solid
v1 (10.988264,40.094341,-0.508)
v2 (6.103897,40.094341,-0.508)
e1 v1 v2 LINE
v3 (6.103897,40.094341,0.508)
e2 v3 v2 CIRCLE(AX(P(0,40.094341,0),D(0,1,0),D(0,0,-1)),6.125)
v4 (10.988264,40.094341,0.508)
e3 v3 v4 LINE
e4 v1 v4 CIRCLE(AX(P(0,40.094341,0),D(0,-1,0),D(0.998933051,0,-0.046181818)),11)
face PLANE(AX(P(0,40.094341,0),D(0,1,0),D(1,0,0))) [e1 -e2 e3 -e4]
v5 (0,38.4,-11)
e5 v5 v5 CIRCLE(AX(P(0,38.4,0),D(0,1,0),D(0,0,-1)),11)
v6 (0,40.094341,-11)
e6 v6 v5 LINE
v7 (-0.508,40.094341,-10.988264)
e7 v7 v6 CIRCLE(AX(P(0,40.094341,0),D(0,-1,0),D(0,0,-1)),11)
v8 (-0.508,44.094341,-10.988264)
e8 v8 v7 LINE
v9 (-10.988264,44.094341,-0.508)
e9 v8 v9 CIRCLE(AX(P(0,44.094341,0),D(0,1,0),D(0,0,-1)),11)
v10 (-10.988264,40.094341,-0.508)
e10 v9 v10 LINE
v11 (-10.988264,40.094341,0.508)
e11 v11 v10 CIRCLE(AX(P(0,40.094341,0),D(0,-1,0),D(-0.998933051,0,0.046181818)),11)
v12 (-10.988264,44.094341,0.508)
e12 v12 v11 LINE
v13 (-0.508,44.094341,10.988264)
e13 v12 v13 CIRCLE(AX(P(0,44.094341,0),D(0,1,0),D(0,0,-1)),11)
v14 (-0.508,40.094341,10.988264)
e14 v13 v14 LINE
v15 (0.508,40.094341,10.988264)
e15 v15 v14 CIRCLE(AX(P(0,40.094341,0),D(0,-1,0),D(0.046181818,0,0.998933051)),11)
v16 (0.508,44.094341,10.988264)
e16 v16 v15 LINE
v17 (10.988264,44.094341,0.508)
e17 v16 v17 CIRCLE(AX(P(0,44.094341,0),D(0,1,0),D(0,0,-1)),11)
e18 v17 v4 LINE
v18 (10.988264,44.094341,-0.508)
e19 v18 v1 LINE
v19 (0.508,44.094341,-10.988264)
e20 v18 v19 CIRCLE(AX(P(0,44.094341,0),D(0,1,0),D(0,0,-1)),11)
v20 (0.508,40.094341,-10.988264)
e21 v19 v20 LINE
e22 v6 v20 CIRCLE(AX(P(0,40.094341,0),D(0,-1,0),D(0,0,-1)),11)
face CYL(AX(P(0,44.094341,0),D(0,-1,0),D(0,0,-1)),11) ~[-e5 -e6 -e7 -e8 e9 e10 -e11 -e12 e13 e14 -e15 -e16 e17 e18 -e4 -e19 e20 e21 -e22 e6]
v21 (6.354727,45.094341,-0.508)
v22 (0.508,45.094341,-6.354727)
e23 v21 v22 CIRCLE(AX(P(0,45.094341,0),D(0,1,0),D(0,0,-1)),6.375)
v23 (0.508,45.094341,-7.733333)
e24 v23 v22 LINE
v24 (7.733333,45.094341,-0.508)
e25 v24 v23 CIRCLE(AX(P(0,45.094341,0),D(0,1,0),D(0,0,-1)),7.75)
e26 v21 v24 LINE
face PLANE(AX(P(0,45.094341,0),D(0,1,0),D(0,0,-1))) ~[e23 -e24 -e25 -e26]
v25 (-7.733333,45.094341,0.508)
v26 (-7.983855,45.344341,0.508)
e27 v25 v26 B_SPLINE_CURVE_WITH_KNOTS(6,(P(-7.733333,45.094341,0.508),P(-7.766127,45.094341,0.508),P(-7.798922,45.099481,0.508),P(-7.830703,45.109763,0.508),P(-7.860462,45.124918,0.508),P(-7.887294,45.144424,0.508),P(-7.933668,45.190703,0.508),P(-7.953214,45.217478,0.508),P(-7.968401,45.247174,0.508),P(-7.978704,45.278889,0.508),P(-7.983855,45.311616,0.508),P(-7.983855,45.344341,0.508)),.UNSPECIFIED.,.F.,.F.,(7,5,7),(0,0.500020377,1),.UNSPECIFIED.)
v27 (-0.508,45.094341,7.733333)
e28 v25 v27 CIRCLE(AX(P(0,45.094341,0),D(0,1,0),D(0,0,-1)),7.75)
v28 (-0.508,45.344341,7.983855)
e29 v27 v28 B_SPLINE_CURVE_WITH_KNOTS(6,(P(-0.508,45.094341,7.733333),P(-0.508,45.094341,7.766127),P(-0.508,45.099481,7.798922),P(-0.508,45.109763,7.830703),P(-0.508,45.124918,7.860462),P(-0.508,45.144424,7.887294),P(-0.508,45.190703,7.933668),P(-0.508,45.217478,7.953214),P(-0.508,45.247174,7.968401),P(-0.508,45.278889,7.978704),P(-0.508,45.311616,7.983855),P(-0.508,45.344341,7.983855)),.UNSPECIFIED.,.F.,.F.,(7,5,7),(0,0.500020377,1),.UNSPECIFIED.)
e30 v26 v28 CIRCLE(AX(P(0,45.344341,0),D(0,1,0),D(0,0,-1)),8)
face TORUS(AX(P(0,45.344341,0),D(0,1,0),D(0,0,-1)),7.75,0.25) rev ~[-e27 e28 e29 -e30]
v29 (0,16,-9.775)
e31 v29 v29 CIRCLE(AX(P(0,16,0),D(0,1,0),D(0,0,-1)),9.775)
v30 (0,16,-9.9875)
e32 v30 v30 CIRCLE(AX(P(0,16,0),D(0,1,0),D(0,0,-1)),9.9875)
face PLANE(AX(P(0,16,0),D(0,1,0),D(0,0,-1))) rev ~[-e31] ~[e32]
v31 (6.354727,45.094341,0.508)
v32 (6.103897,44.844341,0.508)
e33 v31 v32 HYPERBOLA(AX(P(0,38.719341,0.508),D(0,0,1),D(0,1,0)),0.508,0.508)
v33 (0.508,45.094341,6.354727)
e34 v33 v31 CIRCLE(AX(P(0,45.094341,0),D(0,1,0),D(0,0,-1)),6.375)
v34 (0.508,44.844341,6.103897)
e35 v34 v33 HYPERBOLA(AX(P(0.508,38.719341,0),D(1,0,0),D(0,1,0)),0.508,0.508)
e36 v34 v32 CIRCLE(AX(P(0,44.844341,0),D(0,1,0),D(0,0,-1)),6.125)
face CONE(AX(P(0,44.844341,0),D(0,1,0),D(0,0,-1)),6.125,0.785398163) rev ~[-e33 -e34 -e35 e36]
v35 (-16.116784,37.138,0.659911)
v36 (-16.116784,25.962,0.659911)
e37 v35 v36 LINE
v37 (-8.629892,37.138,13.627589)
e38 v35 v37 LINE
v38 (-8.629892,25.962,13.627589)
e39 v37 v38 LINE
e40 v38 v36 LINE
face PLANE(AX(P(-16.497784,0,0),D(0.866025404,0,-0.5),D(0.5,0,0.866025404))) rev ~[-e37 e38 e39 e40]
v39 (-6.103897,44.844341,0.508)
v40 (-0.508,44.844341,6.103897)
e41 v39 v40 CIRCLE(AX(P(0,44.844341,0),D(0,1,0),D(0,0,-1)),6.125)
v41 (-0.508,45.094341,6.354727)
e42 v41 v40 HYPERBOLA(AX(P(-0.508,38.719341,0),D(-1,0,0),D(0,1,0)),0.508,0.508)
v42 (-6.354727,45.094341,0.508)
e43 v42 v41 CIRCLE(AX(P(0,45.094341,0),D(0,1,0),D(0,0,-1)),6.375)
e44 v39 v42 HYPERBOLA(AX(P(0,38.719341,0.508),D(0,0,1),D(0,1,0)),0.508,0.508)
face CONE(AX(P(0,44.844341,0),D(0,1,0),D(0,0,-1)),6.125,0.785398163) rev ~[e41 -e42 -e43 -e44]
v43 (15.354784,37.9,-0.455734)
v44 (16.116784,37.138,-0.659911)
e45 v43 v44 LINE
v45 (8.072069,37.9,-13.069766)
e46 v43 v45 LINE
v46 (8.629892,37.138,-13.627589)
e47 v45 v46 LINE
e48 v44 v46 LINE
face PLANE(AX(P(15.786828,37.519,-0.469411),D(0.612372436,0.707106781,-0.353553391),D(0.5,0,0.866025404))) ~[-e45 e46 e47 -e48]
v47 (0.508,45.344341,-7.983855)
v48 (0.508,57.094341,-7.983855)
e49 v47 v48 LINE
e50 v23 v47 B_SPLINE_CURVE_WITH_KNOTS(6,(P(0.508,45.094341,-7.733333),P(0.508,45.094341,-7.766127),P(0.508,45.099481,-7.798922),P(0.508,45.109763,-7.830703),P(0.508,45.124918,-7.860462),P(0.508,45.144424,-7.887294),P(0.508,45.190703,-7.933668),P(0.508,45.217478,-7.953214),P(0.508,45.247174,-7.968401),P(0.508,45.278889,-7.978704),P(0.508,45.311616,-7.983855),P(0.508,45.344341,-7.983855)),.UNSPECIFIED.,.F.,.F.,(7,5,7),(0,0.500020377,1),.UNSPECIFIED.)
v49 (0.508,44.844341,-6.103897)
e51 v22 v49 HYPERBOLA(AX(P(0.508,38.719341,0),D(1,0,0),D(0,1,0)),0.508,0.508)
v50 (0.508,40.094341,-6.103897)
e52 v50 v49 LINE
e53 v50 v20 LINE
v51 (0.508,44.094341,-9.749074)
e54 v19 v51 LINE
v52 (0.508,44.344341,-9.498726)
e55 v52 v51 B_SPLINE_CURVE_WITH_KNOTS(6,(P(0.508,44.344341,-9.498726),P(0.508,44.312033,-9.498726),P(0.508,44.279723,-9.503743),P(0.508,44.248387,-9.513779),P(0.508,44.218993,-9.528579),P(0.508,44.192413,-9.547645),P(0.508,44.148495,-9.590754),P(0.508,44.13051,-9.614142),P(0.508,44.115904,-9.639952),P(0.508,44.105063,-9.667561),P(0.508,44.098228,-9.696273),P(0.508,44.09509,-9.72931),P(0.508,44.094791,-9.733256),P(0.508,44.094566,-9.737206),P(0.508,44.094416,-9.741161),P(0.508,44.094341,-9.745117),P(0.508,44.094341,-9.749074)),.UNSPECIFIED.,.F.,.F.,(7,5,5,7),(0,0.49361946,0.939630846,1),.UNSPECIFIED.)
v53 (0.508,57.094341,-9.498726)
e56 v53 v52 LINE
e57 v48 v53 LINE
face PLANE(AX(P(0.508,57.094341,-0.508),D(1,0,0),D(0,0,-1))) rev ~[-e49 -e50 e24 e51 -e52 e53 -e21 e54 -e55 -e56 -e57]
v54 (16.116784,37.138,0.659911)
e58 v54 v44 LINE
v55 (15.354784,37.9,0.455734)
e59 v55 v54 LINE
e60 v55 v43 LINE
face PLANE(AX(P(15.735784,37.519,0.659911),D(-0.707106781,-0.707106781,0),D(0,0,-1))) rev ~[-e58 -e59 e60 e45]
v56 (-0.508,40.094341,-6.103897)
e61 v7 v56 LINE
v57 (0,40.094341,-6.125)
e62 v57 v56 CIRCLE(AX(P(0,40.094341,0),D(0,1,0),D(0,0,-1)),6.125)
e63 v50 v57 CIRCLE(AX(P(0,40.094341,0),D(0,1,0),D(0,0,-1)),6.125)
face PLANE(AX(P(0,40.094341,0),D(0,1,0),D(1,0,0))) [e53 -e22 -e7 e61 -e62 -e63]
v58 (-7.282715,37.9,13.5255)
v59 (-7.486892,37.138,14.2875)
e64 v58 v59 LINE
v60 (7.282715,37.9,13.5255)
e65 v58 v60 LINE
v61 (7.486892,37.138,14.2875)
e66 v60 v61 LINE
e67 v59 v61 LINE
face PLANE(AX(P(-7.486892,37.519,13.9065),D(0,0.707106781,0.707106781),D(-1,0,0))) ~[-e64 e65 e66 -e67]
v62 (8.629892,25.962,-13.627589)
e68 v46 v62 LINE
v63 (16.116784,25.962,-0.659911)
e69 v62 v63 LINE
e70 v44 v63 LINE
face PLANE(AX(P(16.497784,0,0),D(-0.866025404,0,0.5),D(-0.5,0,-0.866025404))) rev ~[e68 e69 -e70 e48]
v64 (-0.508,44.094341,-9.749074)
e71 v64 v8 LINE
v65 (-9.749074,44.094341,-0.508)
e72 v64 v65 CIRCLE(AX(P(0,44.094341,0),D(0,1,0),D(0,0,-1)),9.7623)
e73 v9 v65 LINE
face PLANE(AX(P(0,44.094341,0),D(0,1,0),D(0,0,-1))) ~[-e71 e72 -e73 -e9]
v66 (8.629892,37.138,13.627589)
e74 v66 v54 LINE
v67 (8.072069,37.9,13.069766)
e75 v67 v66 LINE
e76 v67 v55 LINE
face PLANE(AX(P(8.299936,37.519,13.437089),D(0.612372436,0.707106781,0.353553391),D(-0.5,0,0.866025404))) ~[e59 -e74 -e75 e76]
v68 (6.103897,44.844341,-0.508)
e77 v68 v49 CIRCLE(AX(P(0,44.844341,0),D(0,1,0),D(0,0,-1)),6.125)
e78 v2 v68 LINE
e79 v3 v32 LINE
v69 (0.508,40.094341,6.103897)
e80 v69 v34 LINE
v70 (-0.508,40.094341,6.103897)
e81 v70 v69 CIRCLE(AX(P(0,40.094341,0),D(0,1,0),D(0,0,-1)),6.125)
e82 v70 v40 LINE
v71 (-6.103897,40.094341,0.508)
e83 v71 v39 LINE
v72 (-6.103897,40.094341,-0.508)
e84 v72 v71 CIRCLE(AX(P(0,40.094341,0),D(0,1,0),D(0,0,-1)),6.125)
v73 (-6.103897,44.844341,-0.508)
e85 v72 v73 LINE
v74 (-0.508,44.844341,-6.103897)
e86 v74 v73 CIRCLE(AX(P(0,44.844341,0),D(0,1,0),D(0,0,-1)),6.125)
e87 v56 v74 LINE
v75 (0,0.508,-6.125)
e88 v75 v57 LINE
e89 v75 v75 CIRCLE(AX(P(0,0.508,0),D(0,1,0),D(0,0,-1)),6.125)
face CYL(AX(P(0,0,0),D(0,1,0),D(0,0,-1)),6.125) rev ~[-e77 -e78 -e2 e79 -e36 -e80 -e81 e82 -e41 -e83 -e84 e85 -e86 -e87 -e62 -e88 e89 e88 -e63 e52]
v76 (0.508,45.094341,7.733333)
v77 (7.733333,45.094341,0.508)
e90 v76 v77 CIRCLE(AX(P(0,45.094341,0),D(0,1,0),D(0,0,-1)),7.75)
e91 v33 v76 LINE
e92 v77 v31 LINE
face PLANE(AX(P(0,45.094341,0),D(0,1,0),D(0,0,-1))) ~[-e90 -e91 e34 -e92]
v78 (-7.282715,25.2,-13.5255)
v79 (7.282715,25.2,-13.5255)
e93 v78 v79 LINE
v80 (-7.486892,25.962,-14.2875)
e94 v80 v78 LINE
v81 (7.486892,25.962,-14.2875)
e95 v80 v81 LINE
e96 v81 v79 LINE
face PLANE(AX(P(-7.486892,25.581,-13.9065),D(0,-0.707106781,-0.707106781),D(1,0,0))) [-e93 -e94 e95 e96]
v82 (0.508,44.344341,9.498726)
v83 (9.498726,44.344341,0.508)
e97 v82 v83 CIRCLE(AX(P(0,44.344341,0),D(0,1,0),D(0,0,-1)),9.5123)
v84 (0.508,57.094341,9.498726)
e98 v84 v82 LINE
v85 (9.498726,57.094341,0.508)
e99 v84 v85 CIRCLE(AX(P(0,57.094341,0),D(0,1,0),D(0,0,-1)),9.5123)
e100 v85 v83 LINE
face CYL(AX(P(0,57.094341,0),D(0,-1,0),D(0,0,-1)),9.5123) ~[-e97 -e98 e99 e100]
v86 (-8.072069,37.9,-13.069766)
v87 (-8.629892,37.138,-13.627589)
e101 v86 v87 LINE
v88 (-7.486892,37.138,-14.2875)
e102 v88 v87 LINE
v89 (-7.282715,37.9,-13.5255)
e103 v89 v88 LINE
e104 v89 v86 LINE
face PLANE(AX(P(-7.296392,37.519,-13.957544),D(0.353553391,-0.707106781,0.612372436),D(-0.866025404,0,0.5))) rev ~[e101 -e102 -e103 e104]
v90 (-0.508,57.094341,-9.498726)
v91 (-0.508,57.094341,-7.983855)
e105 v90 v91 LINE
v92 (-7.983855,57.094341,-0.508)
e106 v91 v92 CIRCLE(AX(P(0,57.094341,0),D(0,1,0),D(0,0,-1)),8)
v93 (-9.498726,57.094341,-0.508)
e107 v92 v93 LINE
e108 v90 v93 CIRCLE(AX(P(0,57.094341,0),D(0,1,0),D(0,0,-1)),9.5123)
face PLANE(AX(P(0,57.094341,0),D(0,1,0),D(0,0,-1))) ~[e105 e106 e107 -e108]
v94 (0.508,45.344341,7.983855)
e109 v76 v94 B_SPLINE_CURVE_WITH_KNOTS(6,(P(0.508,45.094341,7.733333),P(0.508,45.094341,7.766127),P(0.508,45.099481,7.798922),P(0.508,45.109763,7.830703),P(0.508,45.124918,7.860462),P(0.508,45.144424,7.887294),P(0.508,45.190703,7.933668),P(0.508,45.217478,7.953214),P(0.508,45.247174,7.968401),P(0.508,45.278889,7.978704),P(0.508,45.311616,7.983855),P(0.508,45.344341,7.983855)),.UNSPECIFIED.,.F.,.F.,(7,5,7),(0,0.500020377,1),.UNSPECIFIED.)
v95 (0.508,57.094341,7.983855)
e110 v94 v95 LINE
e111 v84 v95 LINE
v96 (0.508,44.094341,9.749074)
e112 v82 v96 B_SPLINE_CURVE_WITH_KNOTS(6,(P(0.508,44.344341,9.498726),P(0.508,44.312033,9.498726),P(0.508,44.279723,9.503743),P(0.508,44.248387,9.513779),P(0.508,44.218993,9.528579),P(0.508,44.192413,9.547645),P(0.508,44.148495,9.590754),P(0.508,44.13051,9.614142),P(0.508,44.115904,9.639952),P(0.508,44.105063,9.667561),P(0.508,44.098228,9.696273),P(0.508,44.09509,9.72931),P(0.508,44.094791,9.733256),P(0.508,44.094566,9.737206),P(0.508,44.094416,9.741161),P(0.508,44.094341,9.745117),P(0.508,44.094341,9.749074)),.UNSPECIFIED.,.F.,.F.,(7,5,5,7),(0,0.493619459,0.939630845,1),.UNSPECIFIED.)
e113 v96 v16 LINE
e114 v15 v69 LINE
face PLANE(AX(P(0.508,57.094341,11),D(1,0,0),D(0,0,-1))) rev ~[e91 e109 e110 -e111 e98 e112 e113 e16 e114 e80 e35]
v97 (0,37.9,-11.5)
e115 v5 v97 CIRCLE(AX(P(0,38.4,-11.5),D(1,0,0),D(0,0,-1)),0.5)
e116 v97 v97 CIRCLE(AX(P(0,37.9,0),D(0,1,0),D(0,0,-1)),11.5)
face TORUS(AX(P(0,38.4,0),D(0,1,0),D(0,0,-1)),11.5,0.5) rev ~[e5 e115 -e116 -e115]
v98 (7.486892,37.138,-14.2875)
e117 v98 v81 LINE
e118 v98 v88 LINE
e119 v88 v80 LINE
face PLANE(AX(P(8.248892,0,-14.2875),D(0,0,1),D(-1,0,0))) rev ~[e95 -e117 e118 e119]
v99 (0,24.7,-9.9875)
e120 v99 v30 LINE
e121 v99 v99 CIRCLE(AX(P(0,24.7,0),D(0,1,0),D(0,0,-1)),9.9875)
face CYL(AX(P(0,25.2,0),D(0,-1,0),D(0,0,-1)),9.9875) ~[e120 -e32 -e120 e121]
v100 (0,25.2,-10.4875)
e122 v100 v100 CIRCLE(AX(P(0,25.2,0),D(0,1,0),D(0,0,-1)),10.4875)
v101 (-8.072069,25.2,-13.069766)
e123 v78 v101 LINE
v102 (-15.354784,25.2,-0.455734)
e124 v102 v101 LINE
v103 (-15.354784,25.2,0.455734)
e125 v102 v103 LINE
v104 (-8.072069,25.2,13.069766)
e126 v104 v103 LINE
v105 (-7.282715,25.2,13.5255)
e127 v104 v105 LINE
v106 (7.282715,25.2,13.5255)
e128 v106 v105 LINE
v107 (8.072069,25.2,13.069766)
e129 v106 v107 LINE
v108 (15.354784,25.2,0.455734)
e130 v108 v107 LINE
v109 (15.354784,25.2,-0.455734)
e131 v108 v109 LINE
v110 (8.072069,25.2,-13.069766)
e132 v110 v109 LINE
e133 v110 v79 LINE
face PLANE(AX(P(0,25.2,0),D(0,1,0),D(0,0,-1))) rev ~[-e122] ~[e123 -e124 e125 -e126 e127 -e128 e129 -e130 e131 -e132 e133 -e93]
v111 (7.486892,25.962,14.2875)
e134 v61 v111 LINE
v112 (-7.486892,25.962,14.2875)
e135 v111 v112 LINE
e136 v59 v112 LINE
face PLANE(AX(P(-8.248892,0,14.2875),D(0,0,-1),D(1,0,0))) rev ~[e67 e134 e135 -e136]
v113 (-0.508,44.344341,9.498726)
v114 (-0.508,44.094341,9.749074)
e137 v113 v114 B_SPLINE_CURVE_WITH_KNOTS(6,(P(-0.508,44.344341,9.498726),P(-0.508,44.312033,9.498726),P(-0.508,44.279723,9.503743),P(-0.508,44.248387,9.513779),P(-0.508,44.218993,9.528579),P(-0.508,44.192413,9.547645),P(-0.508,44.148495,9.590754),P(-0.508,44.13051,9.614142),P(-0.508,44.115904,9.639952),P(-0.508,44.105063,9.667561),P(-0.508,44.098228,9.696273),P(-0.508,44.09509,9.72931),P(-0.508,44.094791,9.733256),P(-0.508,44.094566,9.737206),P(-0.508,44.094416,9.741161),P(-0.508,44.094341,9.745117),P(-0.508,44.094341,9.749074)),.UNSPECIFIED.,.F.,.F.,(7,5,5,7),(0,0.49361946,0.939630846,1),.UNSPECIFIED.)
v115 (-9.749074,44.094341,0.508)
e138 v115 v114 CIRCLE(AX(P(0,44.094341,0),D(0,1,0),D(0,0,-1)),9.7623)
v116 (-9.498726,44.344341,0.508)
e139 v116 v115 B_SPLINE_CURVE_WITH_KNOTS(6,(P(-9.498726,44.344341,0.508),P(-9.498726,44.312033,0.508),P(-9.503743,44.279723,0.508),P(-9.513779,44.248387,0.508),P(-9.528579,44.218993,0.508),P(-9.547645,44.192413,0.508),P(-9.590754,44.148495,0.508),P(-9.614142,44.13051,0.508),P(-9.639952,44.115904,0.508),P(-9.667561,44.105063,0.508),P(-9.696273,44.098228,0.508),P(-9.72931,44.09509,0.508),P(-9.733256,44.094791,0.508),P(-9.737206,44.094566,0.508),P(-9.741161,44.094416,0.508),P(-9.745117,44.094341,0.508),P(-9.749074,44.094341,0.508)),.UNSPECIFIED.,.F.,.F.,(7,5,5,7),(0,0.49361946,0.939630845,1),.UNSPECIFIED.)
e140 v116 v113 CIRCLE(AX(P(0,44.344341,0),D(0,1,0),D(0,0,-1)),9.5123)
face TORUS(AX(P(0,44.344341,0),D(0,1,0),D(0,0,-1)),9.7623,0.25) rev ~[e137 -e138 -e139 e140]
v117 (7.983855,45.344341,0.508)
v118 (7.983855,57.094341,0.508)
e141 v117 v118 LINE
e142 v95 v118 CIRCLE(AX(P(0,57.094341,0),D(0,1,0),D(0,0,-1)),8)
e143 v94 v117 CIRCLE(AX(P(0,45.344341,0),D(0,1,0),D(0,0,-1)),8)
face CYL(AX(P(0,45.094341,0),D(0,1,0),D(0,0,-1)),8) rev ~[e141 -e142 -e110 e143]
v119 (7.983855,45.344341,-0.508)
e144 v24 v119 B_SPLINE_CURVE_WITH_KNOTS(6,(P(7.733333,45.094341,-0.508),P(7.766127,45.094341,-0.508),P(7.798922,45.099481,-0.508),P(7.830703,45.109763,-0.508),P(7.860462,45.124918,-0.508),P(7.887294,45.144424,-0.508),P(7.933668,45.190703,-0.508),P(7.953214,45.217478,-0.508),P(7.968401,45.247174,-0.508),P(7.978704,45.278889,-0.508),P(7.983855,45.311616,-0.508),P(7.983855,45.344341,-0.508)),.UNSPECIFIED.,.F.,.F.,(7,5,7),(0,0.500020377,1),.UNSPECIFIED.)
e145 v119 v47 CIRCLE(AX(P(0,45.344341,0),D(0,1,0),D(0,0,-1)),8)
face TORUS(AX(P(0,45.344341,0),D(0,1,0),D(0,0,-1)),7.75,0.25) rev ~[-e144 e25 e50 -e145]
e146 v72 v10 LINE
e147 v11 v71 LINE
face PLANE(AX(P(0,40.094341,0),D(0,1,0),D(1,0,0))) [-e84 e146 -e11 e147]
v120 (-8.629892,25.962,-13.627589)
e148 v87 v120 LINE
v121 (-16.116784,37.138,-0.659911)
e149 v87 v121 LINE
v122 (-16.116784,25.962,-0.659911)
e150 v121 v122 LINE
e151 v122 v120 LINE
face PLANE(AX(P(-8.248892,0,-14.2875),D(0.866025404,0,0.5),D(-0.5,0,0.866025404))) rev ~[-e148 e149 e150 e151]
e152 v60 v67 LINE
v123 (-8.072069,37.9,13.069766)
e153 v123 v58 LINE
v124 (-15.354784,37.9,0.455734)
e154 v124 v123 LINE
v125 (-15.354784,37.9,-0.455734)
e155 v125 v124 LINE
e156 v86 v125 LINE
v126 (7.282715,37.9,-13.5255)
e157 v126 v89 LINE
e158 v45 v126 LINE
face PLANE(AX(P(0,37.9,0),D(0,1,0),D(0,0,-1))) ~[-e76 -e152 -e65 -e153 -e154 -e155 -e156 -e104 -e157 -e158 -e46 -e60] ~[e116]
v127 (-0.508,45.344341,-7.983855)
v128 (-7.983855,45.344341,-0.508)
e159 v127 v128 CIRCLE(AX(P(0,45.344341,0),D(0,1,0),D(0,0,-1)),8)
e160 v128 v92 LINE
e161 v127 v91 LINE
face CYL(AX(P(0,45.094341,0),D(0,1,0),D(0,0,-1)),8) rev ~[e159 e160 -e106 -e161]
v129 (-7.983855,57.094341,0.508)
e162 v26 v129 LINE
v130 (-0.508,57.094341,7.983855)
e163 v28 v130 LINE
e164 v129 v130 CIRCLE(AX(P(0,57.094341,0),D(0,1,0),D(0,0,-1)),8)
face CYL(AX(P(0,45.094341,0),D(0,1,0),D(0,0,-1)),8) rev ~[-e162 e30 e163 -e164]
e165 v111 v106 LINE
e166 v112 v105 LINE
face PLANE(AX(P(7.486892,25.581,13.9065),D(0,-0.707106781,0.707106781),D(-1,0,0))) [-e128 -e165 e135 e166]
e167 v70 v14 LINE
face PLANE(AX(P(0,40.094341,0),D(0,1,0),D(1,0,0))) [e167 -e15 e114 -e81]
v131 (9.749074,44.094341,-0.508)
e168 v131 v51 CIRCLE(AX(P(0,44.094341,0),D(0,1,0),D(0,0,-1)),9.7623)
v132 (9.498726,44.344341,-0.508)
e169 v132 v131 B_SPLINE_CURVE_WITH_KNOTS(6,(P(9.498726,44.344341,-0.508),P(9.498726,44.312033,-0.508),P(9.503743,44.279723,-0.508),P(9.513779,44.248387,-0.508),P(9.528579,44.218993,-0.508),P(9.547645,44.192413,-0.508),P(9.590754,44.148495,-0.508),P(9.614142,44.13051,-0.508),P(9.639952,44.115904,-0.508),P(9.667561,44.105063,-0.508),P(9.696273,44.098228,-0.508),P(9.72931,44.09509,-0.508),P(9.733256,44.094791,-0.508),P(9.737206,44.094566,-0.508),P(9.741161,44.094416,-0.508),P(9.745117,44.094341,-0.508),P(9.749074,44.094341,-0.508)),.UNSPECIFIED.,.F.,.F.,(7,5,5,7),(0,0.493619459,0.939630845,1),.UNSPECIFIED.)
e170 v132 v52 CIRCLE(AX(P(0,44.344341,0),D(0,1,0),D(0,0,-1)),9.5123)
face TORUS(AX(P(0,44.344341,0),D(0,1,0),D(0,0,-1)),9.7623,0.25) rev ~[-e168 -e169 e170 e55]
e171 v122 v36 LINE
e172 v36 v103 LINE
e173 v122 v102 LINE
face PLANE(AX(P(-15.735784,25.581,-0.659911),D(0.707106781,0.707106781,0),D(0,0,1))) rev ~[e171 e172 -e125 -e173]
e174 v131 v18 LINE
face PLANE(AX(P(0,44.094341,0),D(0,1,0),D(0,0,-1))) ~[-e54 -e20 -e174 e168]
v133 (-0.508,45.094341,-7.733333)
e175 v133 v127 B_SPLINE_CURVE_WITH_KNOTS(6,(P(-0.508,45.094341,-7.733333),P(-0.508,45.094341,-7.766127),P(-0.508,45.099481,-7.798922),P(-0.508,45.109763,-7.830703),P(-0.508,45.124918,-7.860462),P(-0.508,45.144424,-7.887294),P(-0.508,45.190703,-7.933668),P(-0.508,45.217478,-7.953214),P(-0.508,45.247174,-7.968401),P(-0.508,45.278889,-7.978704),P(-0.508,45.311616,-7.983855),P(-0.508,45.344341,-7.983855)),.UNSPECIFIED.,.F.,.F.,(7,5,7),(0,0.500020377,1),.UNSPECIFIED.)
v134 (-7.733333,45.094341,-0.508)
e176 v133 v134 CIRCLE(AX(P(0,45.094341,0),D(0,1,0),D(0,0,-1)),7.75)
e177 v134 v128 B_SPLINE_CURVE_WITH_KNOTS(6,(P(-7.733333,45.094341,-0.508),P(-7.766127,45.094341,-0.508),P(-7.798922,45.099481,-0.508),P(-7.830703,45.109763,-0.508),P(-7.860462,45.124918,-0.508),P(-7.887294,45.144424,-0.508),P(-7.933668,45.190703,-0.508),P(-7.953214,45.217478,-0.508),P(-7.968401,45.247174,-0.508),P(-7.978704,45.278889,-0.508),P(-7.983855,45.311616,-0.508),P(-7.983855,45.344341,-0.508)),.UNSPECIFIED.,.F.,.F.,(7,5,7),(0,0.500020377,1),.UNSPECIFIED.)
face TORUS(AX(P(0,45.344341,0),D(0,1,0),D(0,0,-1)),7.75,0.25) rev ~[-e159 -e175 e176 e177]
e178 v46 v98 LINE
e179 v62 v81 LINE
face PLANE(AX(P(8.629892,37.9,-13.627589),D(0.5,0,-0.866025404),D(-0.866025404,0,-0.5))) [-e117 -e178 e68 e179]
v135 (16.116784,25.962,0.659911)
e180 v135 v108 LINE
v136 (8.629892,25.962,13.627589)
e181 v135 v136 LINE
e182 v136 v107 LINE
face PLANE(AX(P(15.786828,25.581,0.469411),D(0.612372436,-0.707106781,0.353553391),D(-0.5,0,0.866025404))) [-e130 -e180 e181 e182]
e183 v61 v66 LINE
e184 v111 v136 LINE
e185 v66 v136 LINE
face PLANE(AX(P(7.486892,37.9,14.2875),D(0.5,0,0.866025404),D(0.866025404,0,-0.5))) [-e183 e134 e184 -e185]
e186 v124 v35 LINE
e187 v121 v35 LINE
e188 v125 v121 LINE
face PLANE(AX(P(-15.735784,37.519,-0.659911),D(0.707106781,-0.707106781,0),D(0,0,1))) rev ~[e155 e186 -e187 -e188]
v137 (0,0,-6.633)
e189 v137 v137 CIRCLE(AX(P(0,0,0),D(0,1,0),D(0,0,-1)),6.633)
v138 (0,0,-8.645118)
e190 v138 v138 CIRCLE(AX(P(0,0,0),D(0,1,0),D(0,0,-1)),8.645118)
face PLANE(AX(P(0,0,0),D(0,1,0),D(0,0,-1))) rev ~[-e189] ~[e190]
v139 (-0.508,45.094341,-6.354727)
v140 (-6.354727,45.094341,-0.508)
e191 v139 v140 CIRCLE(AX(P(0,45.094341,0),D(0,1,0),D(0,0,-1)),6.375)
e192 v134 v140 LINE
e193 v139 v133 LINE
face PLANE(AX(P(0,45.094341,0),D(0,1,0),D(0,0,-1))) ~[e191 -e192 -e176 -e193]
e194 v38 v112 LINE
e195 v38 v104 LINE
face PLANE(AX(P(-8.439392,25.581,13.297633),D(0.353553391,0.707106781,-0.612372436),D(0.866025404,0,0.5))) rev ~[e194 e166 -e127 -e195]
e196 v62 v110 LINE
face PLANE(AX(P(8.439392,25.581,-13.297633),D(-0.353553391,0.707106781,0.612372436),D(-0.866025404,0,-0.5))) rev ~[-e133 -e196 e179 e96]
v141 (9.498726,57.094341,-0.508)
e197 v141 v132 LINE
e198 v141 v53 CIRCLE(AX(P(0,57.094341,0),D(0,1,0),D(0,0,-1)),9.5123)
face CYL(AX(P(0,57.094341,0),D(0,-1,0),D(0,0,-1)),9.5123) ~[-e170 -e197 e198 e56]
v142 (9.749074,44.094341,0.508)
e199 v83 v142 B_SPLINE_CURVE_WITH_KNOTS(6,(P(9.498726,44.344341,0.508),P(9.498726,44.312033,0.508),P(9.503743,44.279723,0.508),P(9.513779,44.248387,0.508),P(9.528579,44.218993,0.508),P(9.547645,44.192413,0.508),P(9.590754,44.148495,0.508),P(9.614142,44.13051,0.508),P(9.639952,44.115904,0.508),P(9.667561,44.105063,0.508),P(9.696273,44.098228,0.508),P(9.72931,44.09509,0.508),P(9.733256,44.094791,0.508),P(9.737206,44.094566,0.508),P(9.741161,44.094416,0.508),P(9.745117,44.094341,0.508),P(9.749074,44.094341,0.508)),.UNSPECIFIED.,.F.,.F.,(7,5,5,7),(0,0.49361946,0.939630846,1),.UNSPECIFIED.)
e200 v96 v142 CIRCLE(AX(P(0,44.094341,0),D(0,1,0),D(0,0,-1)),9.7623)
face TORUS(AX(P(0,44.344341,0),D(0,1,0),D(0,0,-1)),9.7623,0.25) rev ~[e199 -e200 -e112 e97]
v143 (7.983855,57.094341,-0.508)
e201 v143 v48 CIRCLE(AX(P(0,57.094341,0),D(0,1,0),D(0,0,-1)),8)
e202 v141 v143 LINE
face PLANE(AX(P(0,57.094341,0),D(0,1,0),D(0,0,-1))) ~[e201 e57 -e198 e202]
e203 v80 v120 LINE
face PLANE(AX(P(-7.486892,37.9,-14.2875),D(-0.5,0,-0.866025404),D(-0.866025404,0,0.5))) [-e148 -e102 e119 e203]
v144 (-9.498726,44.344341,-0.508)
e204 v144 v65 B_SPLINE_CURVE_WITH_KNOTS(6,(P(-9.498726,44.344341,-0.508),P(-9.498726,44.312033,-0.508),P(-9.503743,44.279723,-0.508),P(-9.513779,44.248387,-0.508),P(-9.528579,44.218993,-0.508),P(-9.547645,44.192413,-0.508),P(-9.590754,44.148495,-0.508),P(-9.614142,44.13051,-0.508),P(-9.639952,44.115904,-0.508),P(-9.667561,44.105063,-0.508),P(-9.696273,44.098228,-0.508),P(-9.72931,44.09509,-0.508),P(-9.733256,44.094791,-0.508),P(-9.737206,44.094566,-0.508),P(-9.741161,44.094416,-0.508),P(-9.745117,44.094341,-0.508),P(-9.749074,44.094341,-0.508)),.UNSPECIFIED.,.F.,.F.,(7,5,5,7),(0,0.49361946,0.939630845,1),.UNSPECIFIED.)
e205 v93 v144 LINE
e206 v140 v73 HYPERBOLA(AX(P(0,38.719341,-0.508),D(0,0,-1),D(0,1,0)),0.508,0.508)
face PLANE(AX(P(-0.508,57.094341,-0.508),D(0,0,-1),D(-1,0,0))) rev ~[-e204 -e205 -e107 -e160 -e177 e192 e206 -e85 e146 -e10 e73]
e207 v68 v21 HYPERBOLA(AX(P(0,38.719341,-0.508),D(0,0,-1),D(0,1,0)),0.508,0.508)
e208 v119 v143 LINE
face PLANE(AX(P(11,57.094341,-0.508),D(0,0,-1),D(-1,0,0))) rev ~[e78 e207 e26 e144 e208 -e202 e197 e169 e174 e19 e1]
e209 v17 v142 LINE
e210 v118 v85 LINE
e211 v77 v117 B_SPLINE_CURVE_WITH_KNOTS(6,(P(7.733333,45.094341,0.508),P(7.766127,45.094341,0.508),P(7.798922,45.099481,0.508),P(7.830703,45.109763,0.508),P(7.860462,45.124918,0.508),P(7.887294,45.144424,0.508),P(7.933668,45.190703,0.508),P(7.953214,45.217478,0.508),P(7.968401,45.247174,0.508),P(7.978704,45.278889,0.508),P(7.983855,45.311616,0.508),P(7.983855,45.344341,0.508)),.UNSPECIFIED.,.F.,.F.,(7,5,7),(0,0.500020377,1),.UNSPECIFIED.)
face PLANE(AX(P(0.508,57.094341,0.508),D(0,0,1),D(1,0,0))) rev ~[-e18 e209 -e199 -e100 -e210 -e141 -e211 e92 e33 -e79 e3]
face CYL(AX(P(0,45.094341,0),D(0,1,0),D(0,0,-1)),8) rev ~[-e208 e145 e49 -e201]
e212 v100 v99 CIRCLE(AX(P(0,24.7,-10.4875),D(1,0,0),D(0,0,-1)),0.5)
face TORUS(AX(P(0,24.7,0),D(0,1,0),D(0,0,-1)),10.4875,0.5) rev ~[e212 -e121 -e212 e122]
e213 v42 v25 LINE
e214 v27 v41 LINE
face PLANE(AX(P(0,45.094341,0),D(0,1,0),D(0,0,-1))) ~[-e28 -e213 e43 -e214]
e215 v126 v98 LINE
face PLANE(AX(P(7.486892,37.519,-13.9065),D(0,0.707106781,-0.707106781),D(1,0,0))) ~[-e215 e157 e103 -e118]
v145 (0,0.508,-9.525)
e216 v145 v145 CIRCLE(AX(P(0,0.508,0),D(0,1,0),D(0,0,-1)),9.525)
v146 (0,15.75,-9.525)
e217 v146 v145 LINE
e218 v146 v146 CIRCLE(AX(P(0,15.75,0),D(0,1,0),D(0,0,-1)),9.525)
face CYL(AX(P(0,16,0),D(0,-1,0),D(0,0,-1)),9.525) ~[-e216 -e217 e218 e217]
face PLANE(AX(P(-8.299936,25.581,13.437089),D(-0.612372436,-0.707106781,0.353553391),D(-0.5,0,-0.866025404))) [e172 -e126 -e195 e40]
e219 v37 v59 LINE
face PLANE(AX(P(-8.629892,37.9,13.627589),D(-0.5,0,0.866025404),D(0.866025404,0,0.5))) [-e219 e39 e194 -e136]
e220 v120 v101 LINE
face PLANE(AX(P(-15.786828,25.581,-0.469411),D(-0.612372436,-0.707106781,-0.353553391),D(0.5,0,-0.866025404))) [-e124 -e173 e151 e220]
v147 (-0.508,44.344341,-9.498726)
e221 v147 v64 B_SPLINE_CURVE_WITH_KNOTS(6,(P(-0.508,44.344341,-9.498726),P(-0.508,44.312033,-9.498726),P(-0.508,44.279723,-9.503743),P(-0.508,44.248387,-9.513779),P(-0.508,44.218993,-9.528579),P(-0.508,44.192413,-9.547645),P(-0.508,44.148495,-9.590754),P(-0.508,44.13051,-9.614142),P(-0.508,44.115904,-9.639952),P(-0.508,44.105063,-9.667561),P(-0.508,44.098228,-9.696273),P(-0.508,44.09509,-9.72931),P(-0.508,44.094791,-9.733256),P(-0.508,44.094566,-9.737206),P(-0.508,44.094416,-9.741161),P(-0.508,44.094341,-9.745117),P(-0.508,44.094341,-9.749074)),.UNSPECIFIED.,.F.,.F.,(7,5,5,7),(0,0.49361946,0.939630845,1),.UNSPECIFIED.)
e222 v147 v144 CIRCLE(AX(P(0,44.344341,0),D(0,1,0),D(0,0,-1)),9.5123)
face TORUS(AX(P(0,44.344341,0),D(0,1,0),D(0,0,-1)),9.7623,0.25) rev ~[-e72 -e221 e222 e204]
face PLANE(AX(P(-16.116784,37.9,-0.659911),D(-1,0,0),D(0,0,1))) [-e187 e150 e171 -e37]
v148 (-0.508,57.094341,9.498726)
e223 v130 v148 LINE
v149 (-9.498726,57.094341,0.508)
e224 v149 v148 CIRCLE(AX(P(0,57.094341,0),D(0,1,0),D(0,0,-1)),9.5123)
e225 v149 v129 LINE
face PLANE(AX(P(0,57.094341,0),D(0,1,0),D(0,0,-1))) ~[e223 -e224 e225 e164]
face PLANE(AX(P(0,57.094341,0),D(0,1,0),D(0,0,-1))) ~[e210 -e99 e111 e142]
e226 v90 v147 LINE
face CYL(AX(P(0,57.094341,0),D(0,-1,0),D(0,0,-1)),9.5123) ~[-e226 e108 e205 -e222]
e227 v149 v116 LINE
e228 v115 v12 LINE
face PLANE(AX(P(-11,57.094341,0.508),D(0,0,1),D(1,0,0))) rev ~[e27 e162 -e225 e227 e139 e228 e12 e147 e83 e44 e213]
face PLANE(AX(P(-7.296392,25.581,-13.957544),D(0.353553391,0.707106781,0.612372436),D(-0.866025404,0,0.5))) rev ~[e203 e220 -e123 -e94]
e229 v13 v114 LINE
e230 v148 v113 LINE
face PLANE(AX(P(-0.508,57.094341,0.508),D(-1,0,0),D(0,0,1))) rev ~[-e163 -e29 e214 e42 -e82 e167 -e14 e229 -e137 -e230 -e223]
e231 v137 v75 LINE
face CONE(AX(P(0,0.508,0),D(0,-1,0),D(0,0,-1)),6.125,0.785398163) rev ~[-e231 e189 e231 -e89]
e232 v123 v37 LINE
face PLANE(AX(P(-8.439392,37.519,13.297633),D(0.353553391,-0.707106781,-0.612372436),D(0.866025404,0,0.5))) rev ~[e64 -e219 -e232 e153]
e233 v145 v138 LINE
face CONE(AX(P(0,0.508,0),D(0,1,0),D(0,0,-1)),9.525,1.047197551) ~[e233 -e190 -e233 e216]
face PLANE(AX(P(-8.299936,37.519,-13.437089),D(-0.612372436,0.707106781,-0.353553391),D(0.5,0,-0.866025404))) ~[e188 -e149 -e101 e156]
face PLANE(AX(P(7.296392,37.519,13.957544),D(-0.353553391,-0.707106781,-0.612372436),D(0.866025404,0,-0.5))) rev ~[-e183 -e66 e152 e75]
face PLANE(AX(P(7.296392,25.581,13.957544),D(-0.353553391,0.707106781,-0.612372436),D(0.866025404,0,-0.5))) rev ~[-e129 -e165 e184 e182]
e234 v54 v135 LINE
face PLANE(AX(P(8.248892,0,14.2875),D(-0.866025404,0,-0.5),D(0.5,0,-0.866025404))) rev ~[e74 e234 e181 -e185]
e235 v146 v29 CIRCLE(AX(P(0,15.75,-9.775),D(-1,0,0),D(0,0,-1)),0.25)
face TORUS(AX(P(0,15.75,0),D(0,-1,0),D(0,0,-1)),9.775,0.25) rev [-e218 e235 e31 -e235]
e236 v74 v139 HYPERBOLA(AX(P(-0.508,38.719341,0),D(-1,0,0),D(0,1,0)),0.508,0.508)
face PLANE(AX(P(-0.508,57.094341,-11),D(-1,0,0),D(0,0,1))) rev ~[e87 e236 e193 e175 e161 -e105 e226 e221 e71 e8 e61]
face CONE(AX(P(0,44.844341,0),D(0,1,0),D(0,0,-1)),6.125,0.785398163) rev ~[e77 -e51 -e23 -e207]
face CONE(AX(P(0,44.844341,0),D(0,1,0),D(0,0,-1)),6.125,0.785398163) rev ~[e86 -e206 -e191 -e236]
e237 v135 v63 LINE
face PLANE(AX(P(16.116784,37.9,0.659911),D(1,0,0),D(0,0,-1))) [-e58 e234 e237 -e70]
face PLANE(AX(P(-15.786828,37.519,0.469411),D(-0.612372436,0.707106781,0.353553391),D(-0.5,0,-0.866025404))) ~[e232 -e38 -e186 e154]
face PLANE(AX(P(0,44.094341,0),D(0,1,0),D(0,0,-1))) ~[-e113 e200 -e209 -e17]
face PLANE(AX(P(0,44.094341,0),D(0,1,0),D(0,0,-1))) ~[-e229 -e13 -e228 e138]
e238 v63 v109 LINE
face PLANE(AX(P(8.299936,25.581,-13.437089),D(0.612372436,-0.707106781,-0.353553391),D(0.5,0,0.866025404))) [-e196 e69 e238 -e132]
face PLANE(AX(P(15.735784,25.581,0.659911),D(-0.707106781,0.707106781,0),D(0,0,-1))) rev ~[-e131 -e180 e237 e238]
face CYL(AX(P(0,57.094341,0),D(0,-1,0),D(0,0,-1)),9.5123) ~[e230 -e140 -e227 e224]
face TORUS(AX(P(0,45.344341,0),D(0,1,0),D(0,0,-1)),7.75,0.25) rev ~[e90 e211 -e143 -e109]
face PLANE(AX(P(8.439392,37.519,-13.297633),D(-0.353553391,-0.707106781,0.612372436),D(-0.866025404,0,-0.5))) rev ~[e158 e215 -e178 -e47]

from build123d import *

# Parameters (mm, degrees)
SKETCH3_OUTSIDE_W  = 52.112
SKETCH3_OUTSIDE_H  = 52.112
HEX_2_DEPTH        = 58.094341399
CHAMFER1_SIZE      = 0.25
FILLET1_R          = 0.25
CUT_EXTRUDE1_DEPTH = 17
FILLET3_R          = 0.5
CUT_EXTRUDE2_DEPTH = 38.9
CIRPATTERN1_COUNT  = 6
CHAMFER2_SIZE      = 0.762
CHAMFER3_SIZE      = 0.508
CHAMFER3_SIZE2     = 0.87988181
CHAMFER4_SIZE      = 0.508


with BuildPart() as part:
    # Sketch1 → Revolve1 (revolve)
    with BuildSketch(Plane.XY, mode=Mode.PRIVATE) as revolve1_sk:
        Polygon((6.125, 0), (6.125, 45.094341399), (8, 45.094341399), (8, 57.094341399), (9.5123, 57.094341399), (9.5123, 44.094341399), (11, 44.094341399), (11, 37.9), (17.5, 37.9), (17.5, 25.2), (9.9875, 25.2), (9.9875, 16), (9.525, 16), (9.525, 0), align=None)
    revolve(revolve1_sk.sketch.rotate(Axis((0, 0, 0), (0, 1, 0)), 90), axis=Axis((0, 0, 0), (0, 1, 0)))  # turned: the seam where the file's is

    # Sketch3 outside → Hex 2 (cut, through all)
    with BuildSketch(Plane(origin=(0, 0, 0), x_dir=(1, 0, 0), z_dir=(0, 1, 0))):
        Rectangle(SKETCH3_OUTSIDE_W, SKETCH3_OUTSIDE_H)
        Polygon((8.248891971, 14.2875), (-8.248891971, 14.2875), (-16.497783942, 0), (-8.248891971, -14.2875), (8.248891971, -14.2875), (16.497783942, 0), align=None, mode=Mode.SUBTRACT)
    extrude(amount=HEX_2_DEPTH, mode=Mode.SUBTRACT)

    # Chamfer1
    chamfer1_edges = [part.edges().sort_by_distance(p)[0] for p in [
        (0, 45.094341399, 6.125),
    ]]
    chamfer(chamfer1_edges, length=CHAMFER1_SIZE)

    # Fillet1
    fillet1_edges = [part.edges().sort_by_distance(p)[0] for p in [
        (0, 44.094341399, 9.5123),
        (0, 45.094341399, 8),
        (0, 16, 9.525),
    ]]
    fillet(fillet1_edges, radius=FILLET1_R)

    # Sketch2 → Cut-Extrude1 (cut)
    with BuildSketch(Plane(origin=(0, 57.094341399, 0), x_dir=(1, 0, 0), z_dir=(0, 1, 0))):
        Polygon((11, 0.508), (0.508, 0.508), (0.508, 11), (-0.508, 11), (-0.508, 0.508), (-11, 0.508), (-11, -0.508), (-0.508, -0.508), (-0.508, -11), (0.508, -11), (0.508, -0.508), (11, -0.508), align=None)
    extrude(amount=-CUT_EXTRUDE1_DEPTH, mode=Mode.SUBTRACT)

    # Fillet3
    fillet3_edges = [part.edges().sort_by_distance(p)[0] for p in [
        (0, 25.2, 9.9875),
        (0, 37.9, 11),
    ]]
    fillet(fillet3_edges, radius=FILLET3_R)

    # Sketch6 → Cut-Extrude2 (cut, through all)
    with BuildSketch(Plane(origin=(0, 37.9, 0), x_dir=(1, 0, 0), z_dir=(0, 1, 0))):
        Polygon((-16.116783942, 0.659911358), (-16.116783942, -0.659911358), (-16.497783942, 0), align=None)
    cut_extrude2 = extrude(amount=-CUT_EXTRUDE2_DEPTH, mode=Mode.SUBTRACT)

    # CirPattern1: Cut-Extrude2 ×6 about axis
    cirpattern1_axis = Axis((0, 0, 0), (0, 1, 0))
    for i in range(1, CIRPATTERN1_COUNT):
        add(cut_extrude2.rotate(cirpattern1_axis, i * 360 / CIRPATTERN1_COUNT), mode=Mode.SUBTRACT)

    # Chamfer2
    chamfer2_edges = [part.edges().sort_by_distance(p)[0] for p in [
        (-12.373337957, 25.2, 7.14375),
        (-12.373337957, 37.9, -7.14375),
        (-16.116783942, 25.2, 0),
        (-16.116783942, 37.9, 0),
        (-12.373337957, 25.2, -7.14375),
        (0, 37.9, -14.2875),
        (-8.058391971, 25.2, -13.957544321),
        (-8.058391971, 37.9, -13.957544321),
        (0, 25.2, -14.2875),
        (12.373337957, 37.9, -7.14375),
        (8.058391971, 25.2, -13.957544321),
        (8.058391971, 37.9, -13.957544321),
        (12.373337957, 37.9, 7.14375),
        (12.373337957, 25.2, -7.14375),
        (16.116783942, 25.2, 0),
        (16.116783942, 37.9, 0),
        (12.373337957, 25.2, 7.14375),
        (0, 37.9, 14.2875),
        (8.058391971, 25.2, 13.957544321),
        (8.058391971, 37.9, 13.957544321),
        (0, 25.2, 14.2875),
        (-12.373337957, 37.9, 7.14375),
        (-8.058391971, 25.2, 13.957544321),
        (-8.058391971, 37.9, 13.957544321),
    ]]
    chamfer(chamfer2_edges, length=CHAMFER2_SIZE)

    # Chamfer3
    chamfer3_edges = [part.edges().sort_by_distance(p)[0] for p in [
        (0, 0, 9.525),
    ]]
    chamfer3_side = [part.faces().sort_by_distance(p)[0] for p in [
        (0, 7.875, 9.525),
    ]]
    chamfer(chamfer3_edges, length=CHAMFER3_SIZE, length2=CHAMFER3_SIZE2, reference=chamfer3_side[0])

    # Chamfer4
    chamfer4_edges = [part.edges().sort_by_distance(p)[0] for p in [
        (0, 0, 6.125),
    ]]
    chamfer(chamfer4_edges, length=CHAMFER4_SIZE)


solid = part.part
